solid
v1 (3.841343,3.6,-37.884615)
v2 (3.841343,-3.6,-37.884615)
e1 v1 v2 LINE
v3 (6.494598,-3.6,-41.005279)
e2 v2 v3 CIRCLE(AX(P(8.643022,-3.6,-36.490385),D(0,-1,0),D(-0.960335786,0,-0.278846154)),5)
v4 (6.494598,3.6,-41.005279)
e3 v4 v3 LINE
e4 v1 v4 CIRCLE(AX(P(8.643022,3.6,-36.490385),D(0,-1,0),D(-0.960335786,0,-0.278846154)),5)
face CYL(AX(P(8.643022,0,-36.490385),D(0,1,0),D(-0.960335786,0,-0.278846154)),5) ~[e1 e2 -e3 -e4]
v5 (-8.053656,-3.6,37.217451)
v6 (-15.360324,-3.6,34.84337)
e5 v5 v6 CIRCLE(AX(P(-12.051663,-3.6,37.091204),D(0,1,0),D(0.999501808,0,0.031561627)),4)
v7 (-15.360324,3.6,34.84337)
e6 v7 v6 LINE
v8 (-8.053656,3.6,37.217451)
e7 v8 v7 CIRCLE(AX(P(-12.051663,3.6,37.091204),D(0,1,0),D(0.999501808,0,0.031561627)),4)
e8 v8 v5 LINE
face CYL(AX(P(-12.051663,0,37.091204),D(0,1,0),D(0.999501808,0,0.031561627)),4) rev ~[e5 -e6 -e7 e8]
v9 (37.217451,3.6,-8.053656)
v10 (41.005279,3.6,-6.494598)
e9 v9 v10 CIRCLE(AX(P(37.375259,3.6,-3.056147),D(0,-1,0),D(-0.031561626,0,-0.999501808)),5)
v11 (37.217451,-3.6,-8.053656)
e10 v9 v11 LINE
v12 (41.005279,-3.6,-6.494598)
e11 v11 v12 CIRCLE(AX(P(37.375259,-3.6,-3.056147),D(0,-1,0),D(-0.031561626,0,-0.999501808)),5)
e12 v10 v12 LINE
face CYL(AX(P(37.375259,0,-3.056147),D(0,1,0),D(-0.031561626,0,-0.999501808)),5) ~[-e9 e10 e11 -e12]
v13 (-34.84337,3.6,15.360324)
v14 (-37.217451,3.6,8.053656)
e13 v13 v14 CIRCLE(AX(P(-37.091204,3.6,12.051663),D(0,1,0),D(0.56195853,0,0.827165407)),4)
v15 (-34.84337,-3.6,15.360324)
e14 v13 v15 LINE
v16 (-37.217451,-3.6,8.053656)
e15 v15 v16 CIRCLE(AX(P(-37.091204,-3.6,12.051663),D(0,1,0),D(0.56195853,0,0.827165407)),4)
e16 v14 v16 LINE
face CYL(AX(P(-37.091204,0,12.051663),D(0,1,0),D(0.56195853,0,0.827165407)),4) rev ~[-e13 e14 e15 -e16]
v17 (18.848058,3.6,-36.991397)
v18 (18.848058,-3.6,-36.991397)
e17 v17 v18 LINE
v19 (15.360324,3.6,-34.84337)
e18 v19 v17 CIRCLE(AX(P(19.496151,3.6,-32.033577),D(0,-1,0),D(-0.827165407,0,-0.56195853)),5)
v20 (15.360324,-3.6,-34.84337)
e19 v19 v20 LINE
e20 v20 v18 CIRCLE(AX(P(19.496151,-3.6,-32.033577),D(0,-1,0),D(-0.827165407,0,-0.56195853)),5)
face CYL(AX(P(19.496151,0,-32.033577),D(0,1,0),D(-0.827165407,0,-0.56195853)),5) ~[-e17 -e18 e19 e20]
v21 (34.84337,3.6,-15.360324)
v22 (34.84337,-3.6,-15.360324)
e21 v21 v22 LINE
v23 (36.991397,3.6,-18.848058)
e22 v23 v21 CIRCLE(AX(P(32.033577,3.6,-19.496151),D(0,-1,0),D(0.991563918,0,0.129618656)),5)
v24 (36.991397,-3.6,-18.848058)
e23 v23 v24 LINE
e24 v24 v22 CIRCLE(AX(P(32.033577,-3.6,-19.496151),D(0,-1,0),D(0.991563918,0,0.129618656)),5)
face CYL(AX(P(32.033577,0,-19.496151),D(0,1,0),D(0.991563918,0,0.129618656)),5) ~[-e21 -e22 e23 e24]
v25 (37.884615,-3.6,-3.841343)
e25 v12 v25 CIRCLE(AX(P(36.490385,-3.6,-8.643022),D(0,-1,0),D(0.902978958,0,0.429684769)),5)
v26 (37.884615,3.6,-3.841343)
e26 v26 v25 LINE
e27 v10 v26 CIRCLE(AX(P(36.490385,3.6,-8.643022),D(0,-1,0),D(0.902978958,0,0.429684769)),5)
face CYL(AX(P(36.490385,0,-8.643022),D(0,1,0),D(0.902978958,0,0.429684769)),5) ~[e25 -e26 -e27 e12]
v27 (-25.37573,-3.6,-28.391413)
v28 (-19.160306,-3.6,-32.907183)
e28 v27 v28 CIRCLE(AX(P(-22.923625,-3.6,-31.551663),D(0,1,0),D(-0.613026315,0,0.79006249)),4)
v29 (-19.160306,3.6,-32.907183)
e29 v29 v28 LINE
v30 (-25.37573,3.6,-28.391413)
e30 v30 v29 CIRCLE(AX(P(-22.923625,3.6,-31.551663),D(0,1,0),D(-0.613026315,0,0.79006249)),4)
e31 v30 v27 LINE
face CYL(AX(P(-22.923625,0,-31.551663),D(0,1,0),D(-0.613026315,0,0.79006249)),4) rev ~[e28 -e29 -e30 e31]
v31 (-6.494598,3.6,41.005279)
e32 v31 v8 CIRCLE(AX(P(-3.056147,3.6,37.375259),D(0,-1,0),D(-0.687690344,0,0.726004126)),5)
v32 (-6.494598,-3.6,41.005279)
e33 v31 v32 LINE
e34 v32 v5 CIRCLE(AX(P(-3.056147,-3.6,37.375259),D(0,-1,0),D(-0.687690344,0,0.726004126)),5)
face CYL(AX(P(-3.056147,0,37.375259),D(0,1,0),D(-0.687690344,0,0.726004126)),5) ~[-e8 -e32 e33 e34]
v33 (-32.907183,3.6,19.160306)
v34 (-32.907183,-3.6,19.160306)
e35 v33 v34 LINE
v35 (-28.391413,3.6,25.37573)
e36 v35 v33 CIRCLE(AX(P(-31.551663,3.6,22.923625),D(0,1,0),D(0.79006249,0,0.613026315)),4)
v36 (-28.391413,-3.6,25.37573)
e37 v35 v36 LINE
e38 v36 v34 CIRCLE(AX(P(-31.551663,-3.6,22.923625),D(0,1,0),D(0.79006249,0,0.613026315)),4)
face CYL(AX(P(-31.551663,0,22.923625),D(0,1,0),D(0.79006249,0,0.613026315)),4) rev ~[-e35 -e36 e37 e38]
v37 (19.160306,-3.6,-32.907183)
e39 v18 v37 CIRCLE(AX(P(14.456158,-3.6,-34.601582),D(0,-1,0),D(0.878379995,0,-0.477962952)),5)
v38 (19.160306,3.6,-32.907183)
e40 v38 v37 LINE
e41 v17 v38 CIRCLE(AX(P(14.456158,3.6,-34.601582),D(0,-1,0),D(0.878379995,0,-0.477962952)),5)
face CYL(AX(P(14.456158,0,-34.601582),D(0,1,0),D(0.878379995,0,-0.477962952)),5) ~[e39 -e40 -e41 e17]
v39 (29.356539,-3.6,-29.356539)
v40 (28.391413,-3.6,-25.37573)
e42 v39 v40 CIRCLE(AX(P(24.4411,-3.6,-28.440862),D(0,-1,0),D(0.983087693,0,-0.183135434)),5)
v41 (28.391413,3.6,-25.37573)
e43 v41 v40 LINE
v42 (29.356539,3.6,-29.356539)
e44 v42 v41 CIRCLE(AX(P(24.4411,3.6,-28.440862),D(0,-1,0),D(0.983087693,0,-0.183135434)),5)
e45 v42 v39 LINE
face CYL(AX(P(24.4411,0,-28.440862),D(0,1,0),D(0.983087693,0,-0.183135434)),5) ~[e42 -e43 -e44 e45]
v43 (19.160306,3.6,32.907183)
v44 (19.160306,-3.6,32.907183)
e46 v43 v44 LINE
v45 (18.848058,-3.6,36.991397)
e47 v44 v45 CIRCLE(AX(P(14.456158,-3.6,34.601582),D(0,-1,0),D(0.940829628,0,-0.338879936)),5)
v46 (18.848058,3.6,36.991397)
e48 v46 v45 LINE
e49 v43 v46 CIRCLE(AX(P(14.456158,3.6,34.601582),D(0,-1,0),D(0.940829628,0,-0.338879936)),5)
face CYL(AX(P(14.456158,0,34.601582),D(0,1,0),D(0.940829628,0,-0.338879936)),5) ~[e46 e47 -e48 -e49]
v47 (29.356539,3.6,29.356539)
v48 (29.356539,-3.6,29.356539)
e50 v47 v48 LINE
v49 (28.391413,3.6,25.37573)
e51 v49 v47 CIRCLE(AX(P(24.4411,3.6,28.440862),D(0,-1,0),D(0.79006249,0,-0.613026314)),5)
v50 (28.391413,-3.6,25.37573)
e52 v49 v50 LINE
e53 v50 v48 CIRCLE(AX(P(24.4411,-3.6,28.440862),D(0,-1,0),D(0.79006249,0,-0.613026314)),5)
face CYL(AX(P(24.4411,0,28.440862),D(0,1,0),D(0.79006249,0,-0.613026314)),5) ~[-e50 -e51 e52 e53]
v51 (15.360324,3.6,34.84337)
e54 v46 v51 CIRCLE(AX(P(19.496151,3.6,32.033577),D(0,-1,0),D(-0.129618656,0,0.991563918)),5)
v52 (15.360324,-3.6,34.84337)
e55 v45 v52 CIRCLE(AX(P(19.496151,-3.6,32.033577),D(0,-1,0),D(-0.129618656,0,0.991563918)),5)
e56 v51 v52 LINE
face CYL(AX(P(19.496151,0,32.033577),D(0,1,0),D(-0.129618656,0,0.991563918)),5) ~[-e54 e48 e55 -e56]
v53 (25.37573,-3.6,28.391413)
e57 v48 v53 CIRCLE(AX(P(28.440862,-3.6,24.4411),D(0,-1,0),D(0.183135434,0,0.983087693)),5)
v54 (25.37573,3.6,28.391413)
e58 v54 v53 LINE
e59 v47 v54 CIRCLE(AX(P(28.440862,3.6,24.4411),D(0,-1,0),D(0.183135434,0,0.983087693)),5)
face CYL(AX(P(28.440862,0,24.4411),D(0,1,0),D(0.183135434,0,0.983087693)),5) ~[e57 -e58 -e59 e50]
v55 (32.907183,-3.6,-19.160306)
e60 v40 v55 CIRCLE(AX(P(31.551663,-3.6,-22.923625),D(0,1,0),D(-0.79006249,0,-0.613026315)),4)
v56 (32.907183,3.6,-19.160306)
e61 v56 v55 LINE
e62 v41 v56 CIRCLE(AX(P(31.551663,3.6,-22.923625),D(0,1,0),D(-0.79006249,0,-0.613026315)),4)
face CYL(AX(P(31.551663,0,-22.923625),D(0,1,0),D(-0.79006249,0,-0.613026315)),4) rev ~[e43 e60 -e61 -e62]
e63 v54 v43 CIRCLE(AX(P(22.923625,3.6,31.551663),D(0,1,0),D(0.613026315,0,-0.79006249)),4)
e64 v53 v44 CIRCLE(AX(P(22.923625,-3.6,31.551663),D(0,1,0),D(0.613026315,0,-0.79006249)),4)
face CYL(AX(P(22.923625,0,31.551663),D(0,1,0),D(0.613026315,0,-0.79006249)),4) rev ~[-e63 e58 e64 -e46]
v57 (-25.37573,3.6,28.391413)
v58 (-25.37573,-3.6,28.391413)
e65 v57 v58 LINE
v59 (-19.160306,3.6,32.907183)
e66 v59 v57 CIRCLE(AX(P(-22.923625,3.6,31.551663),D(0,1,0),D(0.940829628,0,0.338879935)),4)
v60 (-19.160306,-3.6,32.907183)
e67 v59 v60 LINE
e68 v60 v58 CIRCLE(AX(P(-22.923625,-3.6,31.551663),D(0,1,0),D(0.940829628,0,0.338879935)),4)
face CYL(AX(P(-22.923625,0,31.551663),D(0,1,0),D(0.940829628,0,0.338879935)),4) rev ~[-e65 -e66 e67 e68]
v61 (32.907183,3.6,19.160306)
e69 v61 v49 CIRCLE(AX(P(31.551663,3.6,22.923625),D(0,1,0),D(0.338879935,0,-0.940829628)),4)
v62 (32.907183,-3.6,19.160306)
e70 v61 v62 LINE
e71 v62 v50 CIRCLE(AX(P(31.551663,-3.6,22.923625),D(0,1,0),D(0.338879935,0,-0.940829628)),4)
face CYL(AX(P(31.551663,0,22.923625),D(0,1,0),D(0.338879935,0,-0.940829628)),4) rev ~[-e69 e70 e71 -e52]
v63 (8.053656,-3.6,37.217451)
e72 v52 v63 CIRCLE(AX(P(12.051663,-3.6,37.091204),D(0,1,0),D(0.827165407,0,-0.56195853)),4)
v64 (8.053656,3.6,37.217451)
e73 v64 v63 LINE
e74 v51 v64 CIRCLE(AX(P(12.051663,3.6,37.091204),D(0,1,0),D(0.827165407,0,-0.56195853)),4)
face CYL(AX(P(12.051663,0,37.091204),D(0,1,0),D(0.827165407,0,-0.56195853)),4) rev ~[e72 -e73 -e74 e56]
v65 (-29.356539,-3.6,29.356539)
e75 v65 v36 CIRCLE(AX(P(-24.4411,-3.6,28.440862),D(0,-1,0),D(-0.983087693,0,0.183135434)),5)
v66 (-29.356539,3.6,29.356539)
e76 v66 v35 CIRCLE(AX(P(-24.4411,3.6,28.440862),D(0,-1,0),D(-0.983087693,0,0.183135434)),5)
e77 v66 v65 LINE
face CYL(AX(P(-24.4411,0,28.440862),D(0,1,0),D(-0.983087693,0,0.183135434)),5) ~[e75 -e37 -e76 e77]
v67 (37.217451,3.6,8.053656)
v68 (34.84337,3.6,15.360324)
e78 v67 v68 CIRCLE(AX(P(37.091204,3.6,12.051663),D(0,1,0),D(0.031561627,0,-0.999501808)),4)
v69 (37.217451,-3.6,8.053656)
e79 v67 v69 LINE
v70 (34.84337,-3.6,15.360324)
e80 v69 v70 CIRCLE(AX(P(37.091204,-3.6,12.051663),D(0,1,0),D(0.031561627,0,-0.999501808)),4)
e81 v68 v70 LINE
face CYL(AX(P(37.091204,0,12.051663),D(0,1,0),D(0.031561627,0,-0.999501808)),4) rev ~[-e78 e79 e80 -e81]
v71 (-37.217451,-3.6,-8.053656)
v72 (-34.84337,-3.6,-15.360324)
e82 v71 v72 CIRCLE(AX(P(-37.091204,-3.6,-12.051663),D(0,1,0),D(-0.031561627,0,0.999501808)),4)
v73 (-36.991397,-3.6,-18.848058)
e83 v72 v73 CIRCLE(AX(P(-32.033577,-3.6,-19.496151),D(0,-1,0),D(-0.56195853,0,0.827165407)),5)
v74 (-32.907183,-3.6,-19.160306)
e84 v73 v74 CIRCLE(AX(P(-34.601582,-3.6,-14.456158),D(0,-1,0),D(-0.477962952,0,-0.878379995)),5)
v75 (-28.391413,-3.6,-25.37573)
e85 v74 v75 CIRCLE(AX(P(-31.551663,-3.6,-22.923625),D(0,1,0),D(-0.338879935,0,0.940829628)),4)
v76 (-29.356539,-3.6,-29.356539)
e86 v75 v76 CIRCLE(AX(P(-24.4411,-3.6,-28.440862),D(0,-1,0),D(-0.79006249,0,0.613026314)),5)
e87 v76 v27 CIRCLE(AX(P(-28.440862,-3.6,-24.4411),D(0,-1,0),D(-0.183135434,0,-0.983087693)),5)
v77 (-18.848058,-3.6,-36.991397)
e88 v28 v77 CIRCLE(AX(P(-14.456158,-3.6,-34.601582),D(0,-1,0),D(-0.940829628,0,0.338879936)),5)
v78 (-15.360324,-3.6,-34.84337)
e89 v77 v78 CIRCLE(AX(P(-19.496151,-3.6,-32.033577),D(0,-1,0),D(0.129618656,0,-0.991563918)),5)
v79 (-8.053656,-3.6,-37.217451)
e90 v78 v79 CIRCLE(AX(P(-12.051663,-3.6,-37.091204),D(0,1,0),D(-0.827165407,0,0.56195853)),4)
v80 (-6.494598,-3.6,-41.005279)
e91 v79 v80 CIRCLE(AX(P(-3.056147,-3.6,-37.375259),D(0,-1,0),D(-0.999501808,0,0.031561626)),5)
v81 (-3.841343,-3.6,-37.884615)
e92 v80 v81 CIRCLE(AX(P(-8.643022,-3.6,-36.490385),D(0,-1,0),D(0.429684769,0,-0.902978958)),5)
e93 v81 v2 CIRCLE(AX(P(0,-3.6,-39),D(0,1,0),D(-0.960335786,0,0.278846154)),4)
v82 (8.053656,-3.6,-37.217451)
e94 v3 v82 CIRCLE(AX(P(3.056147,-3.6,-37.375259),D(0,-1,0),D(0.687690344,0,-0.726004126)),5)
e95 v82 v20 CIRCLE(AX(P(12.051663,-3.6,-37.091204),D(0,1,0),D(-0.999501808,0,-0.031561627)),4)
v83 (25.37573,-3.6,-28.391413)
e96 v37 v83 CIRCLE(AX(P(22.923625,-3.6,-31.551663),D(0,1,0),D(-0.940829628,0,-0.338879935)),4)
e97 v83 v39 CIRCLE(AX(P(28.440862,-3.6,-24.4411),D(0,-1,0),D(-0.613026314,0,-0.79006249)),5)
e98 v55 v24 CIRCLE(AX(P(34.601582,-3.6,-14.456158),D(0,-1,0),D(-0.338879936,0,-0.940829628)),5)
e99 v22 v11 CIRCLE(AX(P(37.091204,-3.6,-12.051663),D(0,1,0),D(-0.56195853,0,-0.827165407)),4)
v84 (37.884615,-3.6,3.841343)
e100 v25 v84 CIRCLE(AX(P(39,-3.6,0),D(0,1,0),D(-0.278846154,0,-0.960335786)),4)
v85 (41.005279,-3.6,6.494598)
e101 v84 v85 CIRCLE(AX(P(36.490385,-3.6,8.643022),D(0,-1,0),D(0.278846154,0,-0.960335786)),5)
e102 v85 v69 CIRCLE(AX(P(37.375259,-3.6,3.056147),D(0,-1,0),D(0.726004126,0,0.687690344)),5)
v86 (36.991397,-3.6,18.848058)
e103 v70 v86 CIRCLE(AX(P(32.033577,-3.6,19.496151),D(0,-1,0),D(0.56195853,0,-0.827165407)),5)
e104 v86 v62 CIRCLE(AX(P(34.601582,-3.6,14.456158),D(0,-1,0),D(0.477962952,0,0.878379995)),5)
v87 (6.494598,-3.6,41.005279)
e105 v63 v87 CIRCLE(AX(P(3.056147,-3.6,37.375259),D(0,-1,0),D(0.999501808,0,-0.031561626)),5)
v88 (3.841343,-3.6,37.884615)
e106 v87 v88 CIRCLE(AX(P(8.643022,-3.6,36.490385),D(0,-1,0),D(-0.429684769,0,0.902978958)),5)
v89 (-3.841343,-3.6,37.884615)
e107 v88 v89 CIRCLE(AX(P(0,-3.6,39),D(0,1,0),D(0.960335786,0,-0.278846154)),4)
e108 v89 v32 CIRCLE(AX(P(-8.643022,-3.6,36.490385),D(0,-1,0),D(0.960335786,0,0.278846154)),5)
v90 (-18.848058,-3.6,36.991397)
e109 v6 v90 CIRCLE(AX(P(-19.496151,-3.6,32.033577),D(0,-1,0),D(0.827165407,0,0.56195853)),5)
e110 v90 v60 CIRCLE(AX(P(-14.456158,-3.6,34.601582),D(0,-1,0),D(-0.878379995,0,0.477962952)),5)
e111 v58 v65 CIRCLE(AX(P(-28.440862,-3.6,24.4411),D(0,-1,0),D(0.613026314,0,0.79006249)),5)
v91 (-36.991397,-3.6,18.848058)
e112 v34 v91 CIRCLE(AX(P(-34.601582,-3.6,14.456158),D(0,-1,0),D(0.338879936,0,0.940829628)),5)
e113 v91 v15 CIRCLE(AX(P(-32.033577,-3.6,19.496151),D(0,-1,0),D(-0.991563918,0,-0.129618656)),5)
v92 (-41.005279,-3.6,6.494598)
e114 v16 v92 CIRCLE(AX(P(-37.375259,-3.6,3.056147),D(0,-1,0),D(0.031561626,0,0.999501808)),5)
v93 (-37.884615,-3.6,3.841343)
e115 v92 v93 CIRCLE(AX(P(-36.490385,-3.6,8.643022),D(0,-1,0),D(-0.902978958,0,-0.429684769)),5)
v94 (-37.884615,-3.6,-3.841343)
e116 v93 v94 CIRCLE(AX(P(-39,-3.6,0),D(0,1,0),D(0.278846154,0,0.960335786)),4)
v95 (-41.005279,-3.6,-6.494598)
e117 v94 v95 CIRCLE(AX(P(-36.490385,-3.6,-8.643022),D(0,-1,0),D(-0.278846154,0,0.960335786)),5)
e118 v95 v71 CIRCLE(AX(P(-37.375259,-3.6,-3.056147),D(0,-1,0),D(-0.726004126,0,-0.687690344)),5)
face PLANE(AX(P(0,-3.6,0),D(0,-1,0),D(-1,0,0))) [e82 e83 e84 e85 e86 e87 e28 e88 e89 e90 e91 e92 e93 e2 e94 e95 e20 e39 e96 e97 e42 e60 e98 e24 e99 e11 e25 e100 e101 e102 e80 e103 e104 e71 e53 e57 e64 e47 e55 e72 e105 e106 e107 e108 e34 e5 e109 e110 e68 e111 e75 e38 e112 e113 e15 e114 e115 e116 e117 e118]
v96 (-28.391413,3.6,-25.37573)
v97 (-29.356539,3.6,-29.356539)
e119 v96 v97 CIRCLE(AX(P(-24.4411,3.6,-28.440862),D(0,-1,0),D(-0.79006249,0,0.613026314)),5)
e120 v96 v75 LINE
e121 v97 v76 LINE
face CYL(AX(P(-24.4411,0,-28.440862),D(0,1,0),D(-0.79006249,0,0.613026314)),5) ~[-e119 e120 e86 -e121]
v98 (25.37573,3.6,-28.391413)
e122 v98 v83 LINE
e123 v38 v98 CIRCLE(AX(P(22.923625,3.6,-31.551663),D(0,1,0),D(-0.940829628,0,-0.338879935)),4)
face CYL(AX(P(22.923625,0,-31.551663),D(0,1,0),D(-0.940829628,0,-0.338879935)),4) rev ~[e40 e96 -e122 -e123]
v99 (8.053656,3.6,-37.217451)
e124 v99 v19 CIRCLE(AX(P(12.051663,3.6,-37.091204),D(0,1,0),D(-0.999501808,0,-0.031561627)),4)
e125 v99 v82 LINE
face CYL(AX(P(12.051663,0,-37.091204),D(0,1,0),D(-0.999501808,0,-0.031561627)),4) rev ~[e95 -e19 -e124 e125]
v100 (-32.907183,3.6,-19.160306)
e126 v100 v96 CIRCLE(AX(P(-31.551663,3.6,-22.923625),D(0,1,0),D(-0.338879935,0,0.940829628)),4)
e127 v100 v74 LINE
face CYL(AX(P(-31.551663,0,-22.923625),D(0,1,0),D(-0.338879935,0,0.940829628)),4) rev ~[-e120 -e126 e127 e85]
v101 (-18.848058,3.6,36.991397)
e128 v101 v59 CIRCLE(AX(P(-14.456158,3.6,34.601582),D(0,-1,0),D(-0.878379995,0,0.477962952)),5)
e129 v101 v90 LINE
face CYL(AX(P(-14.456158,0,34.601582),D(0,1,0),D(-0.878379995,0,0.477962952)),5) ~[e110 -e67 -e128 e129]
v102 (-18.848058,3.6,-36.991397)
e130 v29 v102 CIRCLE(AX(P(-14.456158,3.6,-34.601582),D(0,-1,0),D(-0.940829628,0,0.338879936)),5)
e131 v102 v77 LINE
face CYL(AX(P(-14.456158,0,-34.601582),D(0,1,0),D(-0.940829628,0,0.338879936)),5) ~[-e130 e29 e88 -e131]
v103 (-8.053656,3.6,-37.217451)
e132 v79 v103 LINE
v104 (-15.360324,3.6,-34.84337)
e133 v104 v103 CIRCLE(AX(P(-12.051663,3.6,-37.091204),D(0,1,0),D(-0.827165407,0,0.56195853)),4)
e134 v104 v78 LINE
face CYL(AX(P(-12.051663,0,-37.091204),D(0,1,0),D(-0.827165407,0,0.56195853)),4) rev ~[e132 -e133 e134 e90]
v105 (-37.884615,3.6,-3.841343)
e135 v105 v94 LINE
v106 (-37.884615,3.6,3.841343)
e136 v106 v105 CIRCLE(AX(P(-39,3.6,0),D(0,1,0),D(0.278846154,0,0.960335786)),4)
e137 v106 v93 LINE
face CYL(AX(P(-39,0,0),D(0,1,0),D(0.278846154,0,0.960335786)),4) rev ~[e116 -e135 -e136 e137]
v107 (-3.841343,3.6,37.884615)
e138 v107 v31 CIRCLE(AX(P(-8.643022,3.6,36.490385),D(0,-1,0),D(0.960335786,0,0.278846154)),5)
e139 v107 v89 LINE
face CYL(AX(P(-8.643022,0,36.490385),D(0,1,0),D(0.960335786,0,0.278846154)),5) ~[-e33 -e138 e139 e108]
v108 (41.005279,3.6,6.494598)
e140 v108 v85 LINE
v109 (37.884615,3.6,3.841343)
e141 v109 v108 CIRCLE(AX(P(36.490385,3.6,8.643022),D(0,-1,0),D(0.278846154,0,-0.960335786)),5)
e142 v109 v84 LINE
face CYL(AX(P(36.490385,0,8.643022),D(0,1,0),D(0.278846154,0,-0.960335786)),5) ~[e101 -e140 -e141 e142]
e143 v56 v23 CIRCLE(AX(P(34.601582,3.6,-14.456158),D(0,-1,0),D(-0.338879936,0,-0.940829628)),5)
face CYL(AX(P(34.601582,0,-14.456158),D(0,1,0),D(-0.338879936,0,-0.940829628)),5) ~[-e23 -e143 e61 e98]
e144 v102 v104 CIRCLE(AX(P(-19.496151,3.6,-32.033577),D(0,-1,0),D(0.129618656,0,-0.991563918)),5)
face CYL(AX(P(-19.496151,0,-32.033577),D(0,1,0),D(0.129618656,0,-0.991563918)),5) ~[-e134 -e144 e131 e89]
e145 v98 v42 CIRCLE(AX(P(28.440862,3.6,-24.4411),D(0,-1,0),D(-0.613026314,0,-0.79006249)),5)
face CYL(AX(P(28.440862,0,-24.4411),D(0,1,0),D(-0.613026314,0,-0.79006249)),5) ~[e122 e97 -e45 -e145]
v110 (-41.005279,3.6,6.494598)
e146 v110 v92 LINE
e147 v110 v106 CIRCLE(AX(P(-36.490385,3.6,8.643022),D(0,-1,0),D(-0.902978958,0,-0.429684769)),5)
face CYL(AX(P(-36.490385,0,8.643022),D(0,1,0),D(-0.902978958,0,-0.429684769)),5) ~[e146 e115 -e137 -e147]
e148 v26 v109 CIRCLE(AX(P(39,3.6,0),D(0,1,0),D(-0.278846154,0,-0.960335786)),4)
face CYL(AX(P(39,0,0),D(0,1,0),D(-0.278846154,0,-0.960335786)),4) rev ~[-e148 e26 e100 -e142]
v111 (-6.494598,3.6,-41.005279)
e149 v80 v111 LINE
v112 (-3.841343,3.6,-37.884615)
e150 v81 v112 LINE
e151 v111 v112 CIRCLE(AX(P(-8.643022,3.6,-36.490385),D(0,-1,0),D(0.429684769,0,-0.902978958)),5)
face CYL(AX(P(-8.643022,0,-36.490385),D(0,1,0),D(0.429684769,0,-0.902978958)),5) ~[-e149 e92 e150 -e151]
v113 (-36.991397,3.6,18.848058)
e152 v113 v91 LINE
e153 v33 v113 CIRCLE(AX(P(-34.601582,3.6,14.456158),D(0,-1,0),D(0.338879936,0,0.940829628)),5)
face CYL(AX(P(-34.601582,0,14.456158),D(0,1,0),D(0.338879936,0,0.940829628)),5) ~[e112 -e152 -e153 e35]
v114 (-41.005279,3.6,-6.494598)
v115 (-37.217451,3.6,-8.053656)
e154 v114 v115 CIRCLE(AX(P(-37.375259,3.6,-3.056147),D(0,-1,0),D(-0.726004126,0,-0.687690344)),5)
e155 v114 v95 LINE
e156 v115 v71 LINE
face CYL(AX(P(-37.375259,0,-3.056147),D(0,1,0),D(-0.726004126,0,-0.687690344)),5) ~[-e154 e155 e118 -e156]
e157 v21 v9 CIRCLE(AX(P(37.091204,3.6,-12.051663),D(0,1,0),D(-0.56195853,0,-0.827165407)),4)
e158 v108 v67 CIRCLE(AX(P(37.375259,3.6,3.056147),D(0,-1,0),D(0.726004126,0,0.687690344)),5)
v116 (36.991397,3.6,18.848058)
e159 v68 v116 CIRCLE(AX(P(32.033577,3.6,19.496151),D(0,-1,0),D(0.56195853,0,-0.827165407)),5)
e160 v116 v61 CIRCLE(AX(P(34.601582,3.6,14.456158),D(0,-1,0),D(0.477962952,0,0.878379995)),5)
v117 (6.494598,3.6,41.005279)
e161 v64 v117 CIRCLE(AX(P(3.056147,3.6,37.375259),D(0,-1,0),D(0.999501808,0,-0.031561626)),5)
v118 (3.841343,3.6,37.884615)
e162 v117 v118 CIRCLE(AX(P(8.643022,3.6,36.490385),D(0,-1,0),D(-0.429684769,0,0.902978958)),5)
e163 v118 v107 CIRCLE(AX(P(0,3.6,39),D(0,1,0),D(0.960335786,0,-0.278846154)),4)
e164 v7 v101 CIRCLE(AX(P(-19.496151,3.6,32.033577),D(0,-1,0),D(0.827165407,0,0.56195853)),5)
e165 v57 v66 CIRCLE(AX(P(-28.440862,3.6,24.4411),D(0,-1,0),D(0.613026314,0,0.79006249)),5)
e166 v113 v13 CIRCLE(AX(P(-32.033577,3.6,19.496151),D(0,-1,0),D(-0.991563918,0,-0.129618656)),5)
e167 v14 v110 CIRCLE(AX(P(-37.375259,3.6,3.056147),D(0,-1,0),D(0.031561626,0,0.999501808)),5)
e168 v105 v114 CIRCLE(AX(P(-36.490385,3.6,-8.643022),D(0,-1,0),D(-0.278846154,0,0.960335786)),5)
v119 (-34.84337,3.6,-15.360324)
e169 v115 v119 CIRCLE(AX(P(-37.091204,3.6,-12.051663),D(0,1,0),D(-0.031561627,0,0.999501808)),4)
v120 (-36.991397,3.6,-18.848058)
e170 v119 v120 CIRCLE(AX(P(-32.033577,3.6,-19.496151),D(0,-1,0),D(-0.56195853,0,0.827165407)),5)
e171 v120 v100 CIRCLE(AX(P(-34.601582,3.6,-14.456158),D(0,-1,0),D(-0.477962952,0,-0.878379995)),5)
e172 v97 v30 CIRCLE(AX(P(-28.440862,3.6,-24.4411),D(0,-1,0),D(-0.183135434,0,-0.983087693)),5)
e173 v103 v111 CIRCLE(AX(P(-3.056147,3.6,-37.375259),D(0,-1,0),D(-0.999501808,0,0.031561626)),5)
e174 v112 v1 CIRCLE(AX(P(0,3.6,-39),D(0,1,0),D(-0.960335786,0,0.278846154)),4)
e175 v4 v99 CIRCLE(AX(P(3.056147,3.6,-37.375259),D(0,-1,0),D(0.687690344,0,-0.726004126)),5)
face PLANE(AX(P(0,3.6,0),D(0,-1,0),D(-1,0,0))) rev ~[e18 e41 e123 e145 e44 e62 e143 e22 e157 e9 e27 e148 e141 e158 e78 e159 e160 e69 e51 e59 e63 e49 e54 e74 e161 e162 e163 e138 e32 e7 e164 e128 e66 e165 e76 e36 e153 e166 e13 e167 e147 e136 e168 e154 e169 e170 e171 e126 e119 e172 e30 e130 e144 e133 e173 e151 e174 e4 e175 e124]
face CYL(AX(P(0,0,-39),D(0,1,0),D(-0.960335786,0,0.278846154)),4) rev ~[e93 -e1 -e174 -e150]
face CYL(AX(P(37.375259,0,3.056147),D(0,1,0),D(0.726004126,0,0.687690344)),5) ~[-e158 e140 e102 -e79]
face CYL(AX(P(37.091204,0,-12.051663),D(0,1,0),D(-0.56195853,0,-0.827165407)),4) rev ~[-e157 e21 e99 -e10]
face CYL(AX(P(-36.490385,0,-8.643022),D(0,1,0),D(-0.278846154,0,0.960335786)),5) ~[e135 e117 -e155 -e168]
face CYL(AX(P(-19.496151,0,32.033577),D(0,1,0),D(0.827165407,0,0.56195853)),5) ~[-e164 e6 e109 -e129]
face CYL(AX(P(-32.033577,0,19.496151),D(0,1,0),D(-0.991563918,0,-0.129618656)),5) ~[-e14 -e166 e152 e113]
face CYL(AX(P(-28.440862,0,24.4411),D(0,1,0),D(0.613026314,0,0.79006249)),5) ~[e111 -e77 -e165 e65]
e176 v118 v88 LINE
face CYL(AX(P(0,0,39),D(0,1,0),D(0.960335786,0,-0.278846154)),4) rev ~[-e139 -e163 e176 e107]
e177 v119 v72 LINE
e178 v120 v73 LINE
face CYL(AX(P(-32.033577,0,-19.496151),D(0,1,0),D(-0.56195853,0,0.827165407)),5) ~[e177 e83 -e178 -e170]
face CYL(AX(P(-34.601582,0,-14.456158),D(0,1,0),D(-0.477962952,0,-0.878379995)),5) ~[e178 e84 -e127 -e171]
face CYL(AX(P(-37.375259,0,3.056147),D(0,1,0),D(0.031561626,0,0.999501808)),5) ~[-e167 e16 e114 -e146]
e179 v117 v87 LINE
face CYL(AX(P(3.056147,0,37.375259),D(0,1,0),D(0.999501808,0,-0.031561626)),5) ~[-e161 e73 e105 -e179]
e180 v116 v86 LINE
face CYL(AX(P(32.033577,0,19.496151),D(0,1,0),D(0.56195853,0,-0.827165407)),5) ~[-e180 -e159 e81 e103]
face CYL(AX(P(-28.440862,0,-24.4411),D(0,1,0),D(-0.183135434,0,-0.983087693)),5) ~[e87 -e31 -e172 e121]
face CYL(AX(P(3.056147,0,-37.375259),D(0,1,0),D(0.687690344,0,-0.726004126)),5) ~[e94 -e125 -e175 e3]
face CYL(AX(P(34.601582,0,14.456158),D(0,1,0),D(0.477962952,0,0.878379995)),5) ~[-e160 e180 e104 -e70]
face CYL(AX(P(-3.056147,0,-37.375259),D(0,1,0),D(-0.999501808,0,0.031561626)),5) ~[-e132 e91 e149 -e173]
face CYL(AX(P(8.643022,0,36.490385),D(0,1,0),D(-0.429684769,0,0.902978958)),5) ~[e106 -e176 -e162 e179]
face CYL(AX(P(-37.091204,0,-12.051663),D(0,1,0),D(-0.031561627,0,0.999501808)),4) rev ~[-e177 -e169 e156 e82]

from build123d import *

# Parameters (mm, degrees)
SALIENTE_EXTRUIR2_DEPTH = 3.6


with BuildPart() as part:
    # Croquis1 → Saliente-Extruir2 (new, symmetric)
    with BuildSketch(Plane(origin=(0, 0, 0), x_dir=(1, 0, 0), z_dir=(0, 1, 0))):
        with BuildLine():
            ThreePointArc((-3.841343145, 37.884615385), (0, 35), (3.841343145, 37.884615385))
            ThreePointArc((3.841343145, 37.884615385), (4.833741548, 39.729116135), (6.494598229, 41.005279406))
            ThreePointArc((6.494598229, 41.005279406), (7.679810659, 39.278343072), (8.05365555, 37.217450642))
            ThreePointArc((8.05365555, 37.217450642), (10.815594803, 33.28697807), (15.360324409, 34.843370016))
            ThreePointArc((15.360324409, 34.843370016), (16.874133455, 36.290926502), (18.848058162, 36.991396957))
            ThreePointArc((18.848058162, 36.991396957), (19.441609492, 34.98273212), (19.160306326, 32.907182521))
            ThreePointArc((19.160306326, 32.907182521), (20.57248383, 28.315594803), (25.375730098, 28.391412822))
            ThreePointArc((25.375730098, 28.391412822), (27.26276761, 29.300328129), (29.35653884, 29.35653884))
            ThreePointArc((29.35653884, 29.35653884), (29.300328129, 27.26276761), (28.391412822, 25.375730098))
            ThreePointArc((28.391412822, 25.375730098), (28.315594803, 20.57248383), (32.907182521, 19.160306326))
            ThreePointArc((32.907182521, 19.160306326), (34.98273212, 19.441609492), (36.991396957, 18.848058162))
            ThreePointArc((36.991396957, 18.848058162), (36.290926502, 16.874133455), (34.843370016, 15.360324409))
            ThreePointArc((34.843370016, 15.360324409), (33.28697807, 10.815594803), (37.217450642, 8.05365555))
            ThreePointArc((37.217450642, 8.05365555), (39.278343072, 7.679810659), (41.005279406, 6.494598229))
            ThreePointArc((41.005279406, 6.494598229), (39.729116135, 4.833741548), (37.884615385, 3.841343145))
            ThreePointArc((37.884615385, 3.841343145), (35, 0), (37.884615385, -3.841343145))
            ThreePointArc((37.884615385, -3.841343145), (39.729116135, -4.833741548), (41.005279406, -6.494598229))
            ThreePointArc((41.005279406, -6.494598229), (39.278343072, -7.679810659), (37.217450642, -8.05365555))
            ThreePointArc((37.217450642, -8.05365555), (33.28697807, -10.815594803), (34.843370016, -15.360324409))
            ThreePointArc((34.843370016, -15.360324409), (36.290926502, -16.874133455), (36.991396957, -18.848058162))
            ThreePointArc((36.991396957, -18.848058162), (34.98273212, -19.441609492), (32.907182521, -19.160306326))
            ThreePointArc((32.907182521, -19.160306326), (28.315594803, -20.57248383), (28.391412822, -25.375730098))
            ThreePointArc((28.391412822, -25.375730098), (29.300328129, -27.26276761), (29.35653884, -29.35653884))
            ThreePointArc((29.35653884, -29.35653884), (27.26276761, -29.300328129), (25.375730098, -28.391412822))
            ThreePointArc((25.375730098, -28.391412822), (20.57248383, -28.315594803), (19.160306326, -32.907182521))
            ThreePointArc((19.160306326, -32.907182521), (19.441609492, -34.98273212), (18.848058162, -36.991396957))
            ThreePointArc((18.848058162, -36.991396957), (16.874133455, -36.290926502), (15.360324409, -34.843370016))
            ThreePointArc((15.360324409, -34.843370016), (10.815594803, -33.28697807), (8.05365555, -37.217450642))
            ThreePointArc((8.05365555, -37.217450642), (7.679810659, -39.278343072), (6.494598229, -41.005279406))
            ThreePointArc((6.494598229, -41.005279406), (4.833741548, -39.729116135), (3.841343145, -37.884615385))
            ThreePointArc((3.841343145, -37.884615385), (0, -35), (-3.841343145, -37.884615385))
            ThreePointArc((-3.841343145, -37.884615385), (-4.833741548, -39.729116135), (-6.494598229, -41.005279406))
            ThreePointArc((-6.494598229, -41.005279406), (-7.679810659, -39.278343072), (-8.05365555, -37.217450642))
            ThreePointArc((-8.05365555, -37.217450642), (-10.815594803, -33.28697807), (-15.360324409, -34.843370016))
            ThreePointArc((-15.360324409, -34.843370016), (-16.874133455, -36.290926502), (-18.848058162, -36.991396957))
            ThreePointArc((-18.848058162, -36.991396957), (-19.441609492, -34.98273212), (-19.160306326, -32.907182521))
            ThreePointArc((-19.160306326, -32.907182521), (-20.57248383, -28.315594803), (-25.375730098, -28.391412822))
            ThreePointArc((-25.375730098, -28.391412822), (-27.26276761, -29.300328129), (-29.35653884, -29.35653884))
            ThreePointArc((-29.35653884, -29.35653884), (-29.300328129, -27.26276761), (-28.391412822, -25.375730098))
            ThreePointArc((-28.391412822, -25.375730098), (-28.315594803, -20.57248383), (-32.907182521, -19.160306326))
            ThreePointArc((-32.907182521, -19.160306326), (-34.98273212, -19.441609492), (-36.991396957, -18.848058162))
            ThreePointArc((-36.991396957, -18.848058162), (-36.290926502, -16.874133455), (-34.843370016, -15.360324409))
            ThreePointArc((-34.843370016, -15.360324409), (-33.28697807, -10.815594803), (-37.217450642, -8.05365555))
            ThreePointArc((-37.217450642, -8.05365555), (-39.278343072, -7.679810659), (-41.005279406, -6.494598229))
            ThreePointArc((-41.005279406, -6.494598229), (-39.729116135, -4.833741548), (-37.884615385, -3.841343145))
            ThreePointArc((-37.884615385, -3.841343145), (-35, 0), (-37.884615385, 3.841343145))
            ThreePointArc((-37.884615385, 3.841343145), (-39.729116135, 4.833741548), (-41.005279406, 6.494598229))
            ThreePointArc((-41.005279406, 6.494598229), (-39.278343072, 7.679810659), (-37.217450642, 8.05365555))
            ThreePointArc((-37.217450642, 8.05365555), (-33.28697807, 10.815594803), (-34.843370016, 15.360324409))
            ThreePointArc((-34.843370016, 15.360324409), (-36.290926502, 16.874133455), (-36.991396957, 18.848058162))
            ThreePointArc((-36.991396957, 18.848058162), (-34.98273212, 19.441609492), (-32.907182521, 19.160306326))
            ThreePointArc((-32.907182521, 19.160306326), (-28.315594803, 20.57248383), (-28.391412822, 25.375730098))
            ThreePointArc((-28.391412822, 25.375730098), (-29.300328129, 27.26276761), (-29.35653884, 29.35653884))
            ThreePointArc((-29.35653884, 29.35653884), (-27.26276761, 29.300328129), (-25.375730098, 28.391412822))
            ThreePointArc((-25.375730098, 28.391412822), (-20.57248383, 28.315594803), (-19.160306326, 32.907182521))
            ThreePointArc((-19.160306326, 32.907182521), (-19.441609492, 34.98273212), (-18.848058162, 36.991396957))
            ThreePointArc((-18.848058162, 36.991396957), (-16.874133455, 36.290926502), (-15.360324409, 34.843370016))
            ThreePointArc((-15.360324409, 34.843370016), (-10.815594803, 33.28697807), (-8.05365555, 37.217450642))
            ThreePointArc((-8.05365555, 37.217450642), (-7.679810659, 39.278343072), (-6.494598229, 41.005279406))
            ThreePointArc((-6.494598229, 41.005279406), (-4.833741548, 39.729116135), (-3.841343145, 37.884615385))
        make_face()
    extrude(amount=SALIENTE_EXTRUIR2_DEPTH, both=True)


solid = part.part
